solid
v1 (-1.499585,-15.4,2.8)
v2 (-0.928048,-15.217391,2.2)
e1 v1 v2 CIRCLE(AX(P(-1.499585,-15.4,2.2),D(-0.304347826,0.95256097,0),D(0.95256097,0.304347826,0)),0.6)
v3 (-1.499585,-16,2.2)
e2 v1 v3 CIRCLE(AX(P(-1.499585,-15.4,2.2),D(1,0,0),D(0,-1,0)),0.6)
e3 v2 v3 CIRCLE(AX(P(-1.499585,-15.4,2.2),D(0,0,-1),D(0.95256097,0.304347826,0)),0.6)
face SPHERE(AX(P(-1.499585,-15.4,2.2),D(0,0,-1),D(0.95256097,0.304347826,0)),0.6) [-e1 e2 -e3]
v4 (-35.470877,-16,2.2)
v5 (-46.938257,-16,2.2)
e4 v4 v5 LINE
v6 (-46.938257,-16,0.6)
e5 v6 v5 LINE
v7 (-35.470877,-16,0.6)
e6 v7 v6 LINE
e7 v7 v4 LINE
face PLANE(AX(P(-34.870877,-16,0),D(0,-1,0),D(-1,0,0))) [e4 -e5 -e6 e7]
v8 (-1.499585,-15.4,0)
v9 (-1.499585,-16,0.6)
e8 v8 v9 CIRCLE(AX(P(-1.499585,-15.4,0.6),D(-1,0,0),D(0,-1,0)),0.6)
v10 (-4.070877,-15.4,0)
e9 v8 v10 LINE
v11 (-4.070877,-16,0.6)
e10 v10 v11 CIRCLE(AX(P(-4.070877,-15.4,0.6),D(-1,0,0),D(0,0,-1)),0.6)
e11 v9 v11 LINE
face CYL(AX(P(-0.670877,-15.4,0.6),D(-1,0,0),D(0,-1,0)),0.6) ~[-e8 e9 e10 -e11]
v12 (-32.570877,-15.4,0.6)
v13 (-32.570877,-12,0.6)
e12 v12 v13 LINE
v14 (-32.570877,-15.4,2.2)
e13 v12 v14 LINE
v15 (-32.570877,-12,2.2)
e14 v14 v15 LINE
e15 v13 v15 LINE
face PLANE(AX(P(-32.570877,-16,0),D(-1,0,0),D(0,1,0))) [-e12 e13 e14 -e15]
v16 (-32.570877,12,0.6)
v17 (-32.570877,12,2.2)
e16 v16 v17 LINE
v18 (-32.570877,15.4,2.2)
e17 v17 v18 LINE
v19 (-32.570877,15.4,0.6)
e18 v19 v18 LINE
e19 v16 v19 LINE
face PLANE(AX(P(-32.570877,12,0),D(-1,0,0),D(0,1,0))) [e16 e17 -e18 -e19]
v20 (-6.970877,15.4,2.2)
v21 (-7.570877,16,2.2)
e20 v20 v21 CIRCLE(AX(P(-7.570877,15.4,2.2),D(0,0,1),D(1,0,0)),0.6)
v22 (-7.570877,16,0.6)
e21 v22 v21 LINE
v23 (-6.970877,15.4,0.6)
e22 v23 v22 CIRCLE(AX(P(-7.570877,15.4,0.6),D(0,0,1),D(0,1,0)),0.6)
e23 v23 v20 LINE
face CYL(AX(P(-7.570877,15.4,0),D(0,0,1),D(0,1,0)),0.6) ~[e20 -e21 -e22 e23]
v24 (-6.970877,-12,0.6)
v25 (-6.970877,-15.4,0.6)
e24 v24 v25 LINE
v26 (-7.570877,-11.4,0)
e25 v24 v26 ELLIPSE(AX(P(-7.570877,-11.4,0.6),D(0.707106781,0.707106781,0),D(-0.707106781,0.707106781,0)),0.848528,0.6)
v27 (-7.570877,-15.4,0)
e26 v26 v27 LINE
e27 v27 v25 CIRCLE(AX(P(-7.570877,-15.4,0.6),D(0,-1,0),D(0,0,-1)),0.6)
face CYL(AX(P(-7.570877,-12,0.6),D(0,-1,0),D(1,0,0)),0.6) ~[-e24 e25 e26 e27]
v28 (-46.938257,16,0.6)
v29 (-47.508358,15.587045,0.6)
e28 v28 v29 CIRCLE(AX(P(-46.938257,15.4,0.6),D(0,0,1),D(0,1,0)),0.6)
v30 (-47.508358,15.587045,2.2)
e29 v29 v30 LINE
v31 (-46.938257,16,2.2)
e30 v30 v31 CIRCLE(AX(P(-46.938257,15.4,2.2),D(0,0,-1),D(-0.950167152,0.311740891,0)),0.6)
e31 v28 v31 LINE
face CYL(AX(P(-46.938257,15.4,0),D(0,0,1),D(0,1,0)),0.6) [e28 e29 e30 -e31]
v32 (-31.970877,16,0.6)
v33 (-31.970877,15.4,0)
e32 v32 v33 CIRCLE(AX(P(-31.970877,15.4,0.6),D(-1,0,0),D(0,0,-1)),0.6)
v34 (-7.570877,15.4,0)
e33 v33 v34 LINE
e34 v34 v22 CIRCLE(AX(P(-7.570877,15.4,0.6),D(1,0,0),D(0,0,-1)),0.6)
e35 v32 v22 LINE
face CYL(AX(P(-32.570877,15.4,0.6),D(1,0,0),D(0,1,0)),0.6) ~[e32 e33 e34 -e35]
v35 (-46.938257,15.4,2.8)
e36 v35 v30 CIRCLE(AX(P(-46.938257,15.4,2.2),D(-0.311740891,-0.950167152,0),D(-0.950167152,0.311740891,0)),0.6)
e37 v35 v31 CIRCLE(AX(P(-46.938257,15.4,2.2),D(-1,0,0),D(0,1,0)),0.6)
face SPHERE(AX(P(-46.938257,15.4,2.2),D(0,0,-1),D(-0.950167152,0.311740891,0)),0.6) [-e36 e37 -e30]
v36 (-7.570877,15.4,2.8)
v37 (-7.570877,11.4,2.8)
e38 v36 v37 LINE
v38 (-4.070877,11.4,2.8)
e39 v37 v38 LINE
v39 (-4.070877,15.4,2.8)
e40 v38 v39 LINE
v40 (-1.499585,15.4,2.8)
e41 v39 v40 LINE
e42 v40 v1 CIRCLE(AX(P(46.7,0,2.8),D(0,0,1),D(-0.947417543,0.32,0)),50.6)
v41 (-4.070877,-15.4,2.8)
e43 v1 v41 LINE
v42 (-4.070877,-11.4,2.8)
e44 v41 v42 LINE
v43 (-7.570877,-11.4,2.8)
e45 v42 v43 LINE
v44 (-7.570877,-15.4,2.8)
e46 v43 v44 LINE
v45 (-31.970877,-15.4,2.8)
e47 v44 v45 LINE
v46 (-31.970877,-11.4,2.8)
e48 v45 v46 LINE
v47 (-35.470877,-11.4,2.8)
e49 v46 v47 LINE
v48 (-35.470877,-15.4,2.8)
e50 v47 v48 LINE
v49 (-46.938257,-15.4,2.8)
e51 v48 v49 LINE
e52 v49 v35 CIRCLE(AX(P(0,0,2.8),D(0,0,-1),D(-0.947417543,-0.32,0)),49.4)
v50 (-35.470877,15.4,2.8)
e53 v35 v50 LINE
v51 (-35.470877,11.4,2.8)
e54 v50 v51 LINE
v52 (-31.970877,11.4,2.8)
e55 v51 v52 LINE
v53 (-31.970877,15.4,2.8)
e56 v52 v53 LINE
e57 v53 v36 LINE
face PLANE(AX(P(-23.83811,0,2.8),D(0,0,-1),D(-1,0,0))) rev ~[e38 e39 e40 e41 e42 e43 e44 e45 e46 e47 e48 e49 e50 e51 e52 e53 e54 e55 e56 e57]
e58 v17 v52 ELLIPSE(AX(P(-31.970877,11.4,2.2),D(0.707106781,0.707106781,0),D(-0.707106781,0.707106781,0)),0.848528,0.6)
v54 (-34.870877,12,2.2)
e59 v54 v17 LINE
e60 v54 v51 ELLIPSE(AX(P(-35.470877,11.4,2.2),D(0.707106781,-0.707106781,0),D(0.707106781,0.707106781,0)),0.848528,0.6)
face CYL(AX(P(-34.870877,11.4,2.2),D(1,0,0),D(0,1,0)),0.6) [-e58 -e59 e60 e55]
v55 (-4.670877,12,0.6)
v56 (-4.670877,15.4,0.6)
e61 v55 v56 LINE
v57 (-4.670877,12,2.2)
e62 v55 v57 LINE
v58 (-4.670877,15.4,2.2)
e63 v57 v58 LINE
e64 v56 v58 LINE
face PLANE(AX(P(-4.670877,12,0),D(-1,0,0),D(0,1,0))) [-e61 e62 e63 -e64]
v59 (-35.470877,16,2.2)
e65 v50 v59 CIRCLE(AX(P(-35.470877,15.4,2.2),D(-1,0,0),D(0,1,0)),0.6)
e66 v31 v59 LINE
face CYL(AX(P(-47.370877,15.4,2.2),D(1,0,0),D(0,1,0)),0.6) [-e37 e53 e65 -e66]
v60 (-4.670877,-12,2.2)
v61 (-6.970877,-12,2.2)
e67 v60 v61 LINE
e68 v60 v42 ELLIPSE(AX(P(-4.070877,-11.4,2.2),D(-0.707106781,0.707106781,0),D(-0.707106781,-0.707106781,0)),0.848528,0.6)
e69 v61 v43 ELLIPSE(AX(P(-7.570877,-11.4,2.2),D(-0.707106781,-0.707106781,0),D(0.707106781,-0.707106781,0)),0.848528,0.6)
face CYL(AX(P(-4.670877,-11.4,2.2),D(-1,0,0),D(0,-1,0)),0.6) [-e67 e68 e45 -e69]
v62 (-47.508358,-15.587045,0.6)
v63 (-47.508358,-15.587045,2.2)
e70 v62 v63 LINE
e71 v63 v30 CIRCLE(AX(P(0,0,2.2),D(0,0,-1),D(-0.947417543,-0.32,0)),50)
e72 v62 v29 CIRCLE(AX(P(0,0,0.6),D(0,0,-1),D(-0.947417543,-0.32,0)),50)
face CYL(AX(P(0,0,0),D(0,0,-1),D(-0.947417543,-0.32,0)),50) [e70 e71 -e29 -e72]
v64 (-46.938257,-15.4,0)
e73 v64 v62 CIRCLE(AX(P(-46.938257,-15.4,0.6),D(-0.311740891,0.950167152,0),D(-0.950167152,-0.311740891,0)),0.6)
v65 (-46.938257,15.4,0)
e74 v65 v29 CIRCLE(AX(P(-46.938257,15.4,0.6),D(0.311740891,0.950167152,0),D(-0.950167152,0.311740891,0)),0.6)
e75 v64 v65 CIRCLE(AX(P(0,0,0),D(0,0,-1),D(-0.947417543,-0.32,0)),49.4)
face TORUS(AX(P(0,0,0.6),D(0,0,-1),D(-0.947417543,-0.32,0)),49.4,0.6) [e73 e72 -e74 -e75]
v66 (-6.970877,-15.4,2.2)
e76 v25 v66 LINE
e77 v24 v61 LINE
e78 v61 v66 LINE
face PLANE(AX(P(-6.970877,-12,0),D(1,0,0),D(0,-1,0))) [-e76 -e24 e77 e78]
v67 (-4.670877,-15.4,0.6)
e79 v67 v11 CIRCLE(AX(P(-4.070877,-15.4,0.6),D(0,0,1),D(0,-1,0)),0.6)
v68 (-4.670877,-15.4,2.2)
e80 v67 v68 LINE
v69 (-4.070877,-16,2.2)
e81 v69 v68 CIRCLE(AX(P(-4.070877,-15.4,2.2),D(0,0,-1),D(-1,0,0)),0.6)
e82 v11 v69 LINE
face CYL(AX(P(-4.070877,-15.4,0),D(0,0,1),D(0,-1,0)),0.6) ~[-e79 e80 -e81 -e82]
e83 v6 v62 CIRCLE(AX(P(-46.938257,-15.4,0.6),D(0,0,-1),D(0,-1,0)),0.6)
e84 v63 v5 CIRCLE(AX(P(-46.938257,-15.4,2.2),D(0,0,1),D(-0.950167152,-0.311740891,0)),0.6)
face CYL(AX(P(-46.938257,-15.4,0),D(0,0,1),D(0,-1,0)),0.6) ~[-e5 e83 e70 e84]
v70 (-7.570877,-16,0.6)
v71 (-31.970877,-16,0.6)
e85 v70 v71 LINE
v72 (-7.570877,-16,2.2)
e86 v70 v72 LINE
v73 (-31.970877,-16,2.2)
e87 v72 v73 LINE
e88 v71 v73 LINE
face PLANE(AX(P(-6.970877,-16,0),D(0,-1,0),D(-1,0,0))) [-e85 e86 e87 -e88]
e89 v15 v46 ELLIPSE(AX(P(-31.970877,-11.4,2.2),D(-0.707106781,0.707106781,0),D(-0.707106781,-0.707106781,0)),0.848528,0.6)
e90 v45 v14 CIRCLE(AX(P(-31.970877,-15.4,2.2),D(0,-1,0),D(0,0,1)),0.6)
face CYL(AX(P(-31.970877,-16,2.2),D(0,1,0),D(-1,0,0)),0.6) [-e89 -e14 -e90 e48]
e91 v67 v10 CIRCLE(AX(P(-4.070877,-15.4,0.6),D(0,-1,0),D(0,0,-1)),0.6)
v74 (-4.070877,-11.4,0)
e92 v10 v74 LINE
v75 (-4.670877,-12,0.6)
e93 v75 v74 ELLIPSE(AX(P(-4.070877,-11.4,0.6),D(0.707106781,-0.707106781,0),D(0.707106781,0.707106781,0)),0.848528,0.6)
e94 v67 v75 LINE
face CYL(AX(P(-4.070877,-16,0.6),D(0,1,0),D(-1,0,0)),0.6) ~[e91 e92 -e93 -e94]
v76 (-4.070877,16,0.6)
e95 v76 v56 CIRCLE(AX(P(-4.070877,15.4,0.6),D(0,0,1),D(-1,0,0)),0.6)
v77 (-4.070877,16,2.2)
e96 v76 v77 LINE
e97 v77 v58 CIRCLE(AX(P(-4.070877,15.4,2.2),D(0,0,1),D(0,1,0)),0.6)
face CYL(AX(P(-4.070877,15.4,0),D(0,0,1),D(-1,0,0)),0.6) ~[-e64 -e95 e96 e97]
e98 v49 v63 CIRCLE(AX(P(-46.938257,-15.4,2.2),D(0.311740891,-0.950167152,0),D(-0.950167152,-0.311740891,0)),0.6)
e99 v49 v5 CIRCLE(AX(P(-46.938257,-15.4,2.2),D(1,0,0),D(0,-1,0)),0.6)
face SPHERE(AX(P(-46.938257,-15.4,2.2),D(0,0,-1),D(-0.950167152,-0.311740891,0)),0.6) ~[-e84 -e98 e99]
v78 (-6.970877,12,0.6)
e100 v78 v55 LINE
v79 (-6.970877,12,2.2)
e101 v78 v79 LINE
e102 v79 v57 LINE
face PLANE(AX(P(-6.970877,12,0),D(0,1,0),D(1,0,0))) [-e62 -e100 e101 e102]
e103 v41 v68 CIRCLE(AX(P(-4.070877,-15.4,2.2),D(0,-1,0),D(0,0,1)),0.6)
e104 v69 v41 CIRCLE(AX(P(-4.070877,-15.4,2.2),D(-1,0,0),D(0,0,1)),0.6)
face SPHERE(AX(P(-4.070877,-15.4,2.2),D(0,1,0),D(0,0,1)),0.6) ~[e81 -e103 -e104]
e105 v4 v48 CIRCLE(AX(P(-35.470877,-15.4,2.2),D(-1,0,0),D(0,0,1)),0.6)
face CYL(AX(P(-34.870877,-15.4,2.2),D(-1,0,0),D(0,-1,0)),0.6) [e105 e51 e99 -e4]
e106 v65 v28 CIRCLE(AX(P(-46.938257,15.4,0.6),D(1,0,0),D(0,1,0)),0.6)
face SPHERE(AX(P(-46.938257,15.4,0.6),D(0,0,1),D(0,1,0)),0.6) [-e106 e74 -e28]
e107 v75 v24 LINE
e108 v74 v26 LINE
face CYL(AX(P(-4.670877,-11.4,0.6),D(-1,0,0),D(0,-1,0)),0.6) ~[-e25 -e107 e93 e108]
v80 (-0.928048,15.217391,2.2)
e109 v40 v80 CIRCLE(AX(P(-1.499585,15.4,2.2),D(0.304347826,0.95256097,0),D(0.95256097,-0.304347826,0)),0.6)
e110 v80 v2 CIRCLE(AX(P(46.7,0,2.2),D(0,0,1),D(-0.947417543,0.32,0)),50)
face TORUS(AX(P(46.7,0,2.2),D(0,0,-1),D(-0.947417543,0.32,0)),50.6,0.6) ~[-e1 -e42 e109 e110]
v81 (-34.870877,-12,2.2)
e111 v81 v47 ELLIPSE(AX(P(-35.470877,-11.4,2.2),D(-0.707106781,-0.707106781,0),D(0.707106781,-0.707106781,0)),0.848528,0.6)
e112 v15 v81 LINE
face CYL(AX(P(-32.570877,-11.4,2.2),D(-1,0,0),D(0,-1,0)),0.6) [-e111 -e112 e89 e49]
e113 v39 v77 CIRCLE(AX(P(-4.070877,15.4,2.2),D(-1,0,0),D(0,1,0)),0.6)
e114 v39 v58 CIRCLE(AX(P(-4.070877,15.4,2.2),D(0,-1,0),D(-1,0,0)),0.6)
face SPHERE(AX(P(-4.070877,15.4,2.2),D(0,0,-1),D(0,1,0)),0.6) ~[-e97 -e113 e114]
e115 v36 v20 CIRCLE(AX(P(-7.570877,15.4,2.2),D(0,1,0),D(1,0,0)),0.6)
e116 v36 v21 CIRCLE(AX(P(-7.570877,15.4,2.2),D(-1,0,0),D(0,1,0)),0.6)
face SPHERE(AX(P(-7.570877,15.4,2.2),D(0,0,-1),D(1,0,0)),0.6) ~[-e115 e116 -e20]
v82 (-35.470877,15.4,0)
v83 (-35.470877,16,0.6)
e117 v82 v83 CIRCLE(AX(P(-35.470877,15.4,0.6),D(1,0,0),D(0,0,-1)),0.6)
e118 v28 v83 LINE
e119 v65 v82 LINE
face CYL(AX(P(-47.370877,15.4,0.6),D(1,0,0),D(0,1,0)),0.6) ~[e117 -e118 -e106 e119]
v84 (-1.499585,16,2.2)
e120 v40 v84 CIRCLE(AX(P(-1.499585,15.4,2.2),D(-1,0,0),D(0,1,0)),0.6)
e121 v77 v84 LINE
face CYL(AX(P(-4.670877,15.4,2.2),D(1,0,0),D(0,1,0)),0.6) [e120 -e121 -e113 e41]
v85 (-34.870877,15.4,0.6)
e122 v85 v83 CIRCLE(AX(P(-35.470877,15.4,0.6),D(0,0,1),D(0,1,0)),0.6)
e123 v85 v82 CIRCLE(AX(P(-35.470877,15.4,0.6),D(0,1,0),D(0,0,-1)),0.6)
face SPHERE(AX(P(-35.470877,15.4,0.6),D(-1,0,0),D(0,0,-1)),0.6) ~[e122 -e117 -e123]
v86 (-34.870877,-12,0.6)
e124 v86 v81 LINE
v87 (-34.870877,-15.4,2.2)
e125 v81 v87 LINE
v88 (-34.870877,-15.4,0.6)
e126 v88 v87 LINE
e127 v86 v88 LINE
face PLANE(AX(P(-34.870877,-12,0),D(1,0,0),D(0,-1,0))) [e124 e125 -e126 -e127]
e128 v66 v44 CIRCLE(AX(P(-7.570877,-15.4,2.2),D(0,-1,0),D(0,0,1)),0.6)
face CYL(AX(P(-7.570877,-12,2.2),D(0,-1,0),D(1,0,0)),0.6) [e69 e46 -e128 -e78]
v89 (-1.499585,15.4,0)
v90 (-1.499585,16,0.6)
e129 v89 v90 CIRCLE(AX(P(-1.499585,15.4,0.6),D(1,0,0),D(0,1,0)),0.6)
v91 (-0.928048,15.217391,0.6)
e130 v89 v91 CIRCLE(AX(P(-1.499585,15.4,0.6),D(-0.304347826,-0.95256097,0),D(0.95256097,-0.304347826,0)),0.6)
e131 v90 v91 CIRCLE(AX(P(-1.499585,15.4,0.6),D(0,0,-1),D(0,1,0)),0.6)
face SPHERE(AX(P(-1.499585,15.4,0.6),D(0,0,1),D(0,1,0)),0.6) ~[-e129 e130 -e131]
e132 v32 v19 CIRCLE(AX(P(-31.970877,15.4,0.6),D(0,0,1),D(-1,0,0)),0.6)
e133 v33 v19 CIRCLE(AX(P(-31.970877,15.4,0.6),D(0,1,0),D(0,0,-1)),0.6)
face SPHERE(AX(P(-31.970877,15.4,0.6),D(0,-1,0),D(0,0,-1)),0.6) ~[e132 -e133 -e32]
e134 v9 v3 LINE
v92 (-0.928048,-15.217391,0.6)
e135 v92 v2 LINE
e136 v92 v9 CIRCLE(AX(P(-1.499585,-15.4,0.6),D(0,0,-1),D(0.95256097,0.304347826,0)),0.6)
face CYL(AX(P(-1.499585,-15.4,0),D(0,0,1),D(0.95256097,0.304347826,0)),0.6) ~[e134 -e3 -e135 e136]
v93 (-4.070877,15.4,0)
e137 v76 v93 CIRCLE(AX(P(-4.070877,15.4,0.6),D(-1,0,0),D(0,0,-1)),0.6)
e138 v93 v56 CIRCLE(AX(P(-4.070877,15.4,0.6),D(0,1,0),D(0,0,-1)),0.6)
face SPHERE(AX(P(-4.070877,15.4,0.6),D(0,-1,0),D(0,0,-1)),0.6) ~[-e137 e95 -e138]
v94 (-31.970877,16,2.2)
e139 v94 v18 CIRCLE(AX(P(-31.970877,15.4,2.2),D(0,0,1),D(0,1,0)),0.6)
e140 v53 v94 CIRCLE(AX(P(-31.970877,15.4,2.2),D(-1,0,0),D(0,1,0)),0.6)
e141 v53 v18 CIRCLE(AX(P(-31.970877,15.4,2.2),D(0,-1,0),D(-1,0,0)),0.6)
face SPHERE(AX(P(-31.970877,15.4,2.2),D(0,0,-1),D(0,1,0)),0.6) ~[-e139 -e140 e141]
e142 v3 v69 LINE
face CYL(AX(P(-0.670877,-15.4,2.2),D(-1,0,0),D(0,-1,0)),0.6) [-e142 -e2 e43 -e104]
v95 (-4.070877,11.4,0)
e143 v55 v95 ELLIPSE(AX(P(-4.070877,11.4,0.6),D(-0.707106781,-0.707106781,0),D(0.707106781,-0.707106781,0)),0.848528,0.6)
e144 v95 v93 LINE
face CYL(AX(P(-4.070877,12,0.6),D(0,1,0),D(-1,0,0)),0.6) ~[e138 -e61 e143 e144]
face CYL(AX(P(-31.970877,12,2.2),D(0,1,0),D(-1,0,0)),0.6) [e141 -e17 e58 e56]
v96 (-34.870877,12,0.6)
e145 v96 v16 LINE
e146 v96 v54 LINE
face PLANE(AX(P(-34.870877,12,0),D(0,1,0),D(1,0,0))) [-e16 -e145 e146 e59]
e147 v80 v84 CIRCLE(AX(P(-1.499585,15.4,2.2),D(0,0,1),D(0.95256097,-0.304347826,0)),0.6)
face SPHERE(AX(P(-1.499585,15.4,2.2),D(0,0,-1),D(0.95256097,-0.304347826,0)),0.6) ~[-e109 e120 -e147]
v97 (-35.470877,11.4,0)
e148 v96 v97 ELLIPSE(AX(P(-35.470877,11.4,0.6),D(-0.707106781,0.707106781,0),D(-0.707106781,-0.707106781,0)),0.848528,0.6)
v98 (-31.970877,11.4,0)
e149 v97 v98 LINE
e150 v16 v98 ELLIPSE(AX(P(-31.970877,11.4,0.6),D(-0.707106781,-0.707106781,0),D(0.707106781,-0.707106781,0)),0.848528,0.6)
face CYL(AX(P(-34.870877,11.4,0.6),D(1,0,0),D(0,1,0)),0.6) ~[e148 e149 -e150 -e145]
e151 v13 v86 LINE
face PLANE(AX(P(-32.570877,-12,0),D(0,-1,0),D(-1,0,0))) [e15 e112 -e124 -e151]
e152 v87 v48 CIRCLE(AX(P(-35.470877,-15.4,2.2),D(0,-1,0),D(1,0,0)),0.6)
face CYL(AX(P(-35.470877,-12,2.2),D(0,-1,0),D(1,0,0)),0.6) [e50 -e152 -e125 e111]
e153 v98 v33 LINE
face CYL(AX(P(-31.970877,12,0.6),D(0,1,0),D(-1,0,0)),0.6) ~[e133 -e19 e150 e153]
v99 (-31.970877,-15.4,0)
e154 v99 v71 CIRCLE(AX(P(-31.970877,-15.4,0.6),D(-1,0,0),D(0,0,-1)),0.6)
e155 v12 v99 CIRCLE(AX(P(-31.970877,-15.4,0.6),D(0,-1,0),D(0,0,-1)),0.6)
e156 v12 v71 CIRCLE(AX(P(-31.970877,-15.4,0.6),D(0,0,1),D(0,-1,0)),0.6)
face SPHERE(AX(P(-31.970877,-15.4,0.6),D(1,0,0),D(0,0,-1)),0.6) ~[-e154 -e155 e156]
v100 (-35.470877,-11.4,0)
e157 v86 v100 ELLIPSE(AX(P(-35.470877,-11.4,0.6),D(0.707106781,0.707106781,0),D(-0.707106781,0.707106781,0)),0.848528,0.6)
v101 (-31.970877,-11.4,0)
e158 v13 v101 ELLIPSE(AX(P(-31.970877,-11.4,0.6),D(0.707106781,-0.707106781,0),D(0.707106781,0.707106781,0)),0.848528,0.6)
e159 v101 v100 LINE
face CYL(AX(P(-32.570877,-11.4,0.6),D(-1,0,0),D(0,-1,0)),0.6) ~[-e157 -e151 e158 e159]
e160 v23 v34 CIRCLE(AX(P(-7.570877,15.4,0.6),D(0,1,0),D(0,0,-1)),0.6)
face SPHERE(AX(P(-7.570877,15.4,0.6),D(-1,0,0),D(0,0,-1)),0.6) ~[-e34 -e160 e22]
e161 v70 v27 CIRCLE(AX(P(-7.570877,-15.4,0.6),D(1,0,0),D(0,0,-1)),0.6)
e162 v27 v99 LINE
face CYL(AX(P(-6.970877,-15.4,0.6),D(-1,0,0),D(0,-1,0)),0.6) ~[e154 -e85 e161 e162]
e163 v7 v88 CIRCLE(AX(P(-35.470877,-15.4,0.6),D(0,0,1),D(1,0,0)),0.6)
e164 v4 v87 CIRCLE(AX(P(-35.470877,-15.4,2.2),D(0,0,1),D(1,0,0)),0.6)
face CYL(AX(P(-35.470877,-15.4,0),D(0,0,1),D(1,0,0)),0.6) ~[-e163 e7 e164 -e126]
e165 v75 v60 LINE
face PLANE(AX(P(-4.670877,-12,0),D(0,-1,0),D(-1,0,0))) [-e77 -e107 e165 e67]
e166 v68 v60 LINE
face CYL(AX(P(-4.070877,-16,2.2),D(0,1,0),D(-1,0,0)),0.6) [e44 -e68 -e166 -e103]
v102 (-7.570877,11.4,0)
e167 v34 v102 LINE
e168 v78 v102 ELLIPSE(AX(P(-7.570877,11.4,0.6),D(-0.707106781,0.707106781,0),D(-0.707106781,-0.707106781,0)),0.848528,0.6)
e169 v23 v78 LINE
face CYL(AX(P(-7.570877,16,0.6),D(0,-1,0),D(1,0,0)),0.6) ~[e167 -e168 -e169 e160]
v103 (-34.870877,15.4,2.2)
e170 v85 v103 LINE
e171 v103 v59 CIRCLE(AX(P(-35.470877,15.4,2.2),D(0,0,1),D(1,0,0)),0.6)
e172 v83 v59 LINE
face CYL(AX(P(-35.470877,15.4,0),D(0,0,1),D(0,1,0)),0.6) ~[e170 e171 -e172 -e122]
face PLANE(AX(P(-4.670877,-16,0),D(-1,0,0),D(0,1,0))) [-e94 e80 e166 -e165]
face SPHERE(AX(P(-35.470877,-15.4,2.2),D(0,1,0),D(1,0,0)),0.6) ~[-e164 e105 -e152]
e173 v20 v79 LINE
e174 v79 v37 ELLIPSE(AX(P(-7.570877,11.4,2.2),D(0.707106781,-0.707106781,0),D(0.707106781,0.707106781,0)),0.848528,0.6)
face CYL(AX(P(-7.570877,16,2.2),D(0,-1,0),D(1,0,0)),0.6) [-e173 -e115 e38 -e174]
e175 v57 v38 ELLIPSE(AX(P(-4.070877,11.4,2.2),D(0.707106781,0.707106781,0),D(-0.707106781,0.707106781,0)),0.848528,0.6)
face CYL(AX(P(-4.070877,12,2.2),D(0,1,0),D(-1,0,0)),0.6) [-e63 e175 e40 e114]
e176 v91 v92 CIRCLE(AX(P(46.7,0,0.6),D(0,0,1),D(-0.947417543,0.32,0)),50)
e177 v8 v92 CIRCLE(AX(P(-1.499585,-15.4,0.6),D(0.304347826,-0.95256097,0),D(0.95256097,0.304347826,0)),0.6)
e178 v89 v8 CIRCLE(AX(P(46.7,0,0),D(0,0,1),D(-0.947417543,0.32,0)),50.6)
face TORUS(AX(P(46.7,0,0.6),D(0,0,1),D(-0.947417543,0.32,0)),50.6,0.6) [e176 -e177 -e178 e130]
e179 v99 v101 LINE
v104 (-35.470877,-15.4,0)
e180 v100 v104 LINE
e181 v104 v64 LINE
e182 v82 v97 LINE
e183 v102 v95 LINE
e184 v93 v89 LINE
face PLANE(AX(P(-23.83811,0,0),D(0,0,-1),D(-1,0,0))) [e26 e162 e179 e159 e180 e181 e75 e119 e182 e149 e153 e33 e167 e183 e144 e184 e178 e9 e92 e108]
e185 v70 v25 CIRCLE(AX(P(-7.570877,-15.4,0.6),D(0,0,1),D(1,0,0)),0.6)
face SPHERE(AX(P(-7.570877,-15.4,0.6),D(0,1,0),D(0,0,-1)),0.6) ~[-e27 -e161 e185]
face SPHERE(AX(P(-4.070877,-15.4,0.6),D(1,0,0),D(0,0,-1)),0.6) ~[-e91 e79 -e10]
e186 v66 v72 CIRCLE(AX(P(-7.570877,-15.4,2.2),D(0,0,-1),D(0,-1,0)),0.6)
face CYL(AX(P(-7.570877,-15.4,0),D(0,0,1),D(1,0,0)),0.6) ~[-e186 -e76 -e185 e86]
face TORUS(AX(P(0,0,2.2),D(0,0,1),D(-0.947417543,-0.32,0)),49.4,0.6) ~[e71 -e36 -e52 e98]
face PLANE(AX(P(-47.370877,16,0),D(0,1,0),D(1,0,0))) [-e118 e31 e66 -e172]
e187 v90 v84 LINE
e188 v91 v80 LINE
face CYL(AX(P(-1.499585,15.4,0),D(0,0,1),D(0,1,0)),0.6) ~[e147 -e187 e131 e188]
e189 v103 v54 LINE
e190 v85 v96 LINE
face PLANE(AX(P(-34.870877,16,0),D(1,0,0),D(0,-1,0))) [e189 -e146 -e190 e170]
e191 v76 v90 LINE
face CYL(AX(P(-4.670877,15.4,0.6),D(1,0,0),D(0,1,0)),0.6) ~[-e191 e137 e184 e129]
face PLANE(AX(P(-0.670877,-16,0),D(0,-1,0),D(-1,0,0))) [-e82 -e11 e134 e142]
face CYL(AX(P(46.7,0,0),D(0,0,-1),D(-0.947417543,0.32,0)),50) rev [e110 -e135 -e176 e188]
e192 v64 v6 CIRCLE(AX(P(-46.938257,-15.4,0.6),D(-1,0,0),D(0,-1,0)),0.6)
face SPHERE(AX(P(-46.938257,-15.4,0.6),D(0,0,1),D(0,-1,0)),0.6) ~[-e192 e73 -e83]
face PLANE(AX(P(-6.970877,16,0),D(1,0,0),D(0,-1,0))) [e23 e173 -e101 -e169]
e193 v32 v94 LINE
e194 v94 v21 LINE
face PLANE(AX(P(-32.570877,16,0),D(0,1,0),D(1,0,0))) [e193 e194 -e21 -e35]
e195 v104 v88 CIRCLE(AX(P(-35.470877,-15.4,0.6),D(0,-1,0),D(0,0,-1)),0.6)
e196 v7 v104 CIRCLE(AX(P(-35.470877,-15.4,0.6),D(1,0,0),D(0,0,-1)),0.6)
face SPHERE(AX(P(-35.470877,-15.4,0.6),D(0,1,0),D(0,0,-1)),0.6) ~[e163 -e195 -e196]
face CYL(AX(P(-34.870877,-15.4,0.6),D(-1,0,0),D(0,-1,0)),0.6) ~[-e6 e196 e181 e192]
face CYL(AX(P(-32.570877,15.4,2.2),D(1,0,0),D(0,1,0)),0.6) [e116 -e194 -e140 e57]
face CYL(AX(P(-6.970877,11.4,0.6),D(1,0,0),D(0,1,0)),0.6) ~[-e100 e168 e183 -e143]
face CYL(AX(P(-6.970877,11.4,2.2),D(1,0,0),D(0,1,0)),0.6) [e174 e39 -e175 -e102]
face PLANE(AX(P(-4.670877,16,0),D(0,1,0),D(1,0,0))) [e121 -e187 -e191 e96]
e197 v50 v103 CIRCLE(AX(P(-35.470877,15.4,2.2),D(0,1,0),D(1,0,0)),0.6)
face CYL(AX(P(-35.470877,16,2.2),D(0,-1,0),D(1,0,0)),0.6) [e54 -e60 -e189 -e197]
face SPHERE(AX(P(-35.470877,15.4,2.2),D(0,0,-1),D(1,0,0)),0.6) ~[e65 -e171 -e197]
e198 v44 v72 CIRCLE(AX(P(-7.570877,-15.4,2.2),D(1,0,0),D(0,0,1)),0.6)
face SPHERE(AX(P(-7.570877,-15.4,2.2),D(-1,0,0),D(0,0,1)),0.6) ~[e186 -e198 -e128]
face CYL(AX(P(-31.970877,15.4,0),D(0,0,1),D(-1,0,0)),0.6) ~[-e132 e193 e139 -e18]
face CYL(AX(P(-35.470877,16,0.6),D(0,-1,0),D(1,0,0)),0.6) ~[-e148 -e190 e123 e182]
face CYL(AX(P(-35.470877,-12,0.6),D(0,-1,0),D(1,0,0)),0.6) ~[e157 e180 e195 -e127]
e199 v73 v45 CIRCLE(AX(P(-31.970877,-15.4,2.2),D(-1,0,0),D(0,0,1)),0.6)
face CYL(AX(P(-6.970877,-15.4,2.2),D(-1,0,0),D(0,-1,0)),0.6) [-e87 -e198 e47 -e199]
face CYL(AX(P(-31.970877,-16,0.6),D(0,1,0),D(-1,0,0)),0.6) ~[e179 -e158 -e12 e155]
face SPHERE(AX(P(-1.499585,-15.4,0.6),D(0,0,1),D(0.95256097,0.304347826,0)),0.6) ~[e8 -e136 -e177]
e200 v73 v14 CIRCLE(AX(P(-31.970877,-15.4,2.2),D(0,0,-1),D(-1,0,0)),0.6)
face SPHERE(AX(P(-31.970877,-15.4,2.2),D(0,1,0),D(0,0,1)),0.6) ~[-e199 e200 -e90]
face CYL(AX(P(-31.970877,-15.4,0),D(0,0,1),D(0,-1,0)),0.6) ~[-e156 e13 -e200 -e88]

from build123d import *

# Parameters (mm, degrees)
BOSS_EXTRU_1_DEPTH = 2.8
CONG_1_R           = 0.6


with BuildPart() as part:
    # Esquisse1 → Boss.-Extru.1 (new body)
    with BuildSketch(Plane.XY):
        with BuildLine():
            Line((-47.370877129, 16), (-34.870877129, 16))
            Line((-34.870877129, 16), (-34.870877129, 12))
            Line((-34.870877129, 12), (-32.570877129, 12))
            Line((-32.570877129, 12), (-32.570877129, 16))
            Line((-32.570877129, 16), (-6.970877129, 16))
            Line((-6.970877129, 16), (-6.970877129, 12))
            Line((-6.970877129, 12), (-4.670877129, 12))
            Line((-4.670877129, 12), (-4.670877129, 16))
            Line((-4.670877129, 16), (-0.670877129, 16))
            ThreePointArc((-0.670877129, 16), (-3.3, 0), (-0.670877129, -16))
            Line((-0.670877129, -16), (-4.670877129, -16))
            Line((-4.670877129, -16), (-4.670877129, -12))
            Line((-4.670877129, -12), (-6.970877129, -12))
            Line((-6.970877129, -12), (-6.970877129, -16))
            Line((-6.970877129, -16), (-32.570877129, -16))
            Line((-32.570877129, -16), (-32.570877129, -12))
            Line((-32.570877129, -12), (-34.870877129, -12))
            Line((-34.870877129, -12), (-34.870877129, -16))
            Line((-34.870877129, -16), (-47.370877129, -16))
            ThreePointArc((-47.370877129, -16), (-50, 0), (-47.370877129, 16))
        make_face()
    extrude(amount=BOSS_EXTRU_1_DEPTH)

    # Congé1
    cong_1_edges = [part.edges().sort_by_distance(p)[0] for p in [
        (-34.870877129, -14, 2.8),
        (-33.720877129, -12, 2.8),
        (-32.570877129, -14, 2.8),
        (-41.120877129, 16, 0),
        (-34.870877129, 14, 0),
        (-33.720877129, 12, 0),
        (-32.570877129, 14, 0),
        (-19.770877129, 16, 0),
        (-19.770877129, -16, 2.8),
        (-6.970877129, 14, 0),
        (-5.820877129, 12, 0),
        (-4.670877129, 14, 0),
        (-2.670877129, 16, 0),
        (-3.3, 0, 0),
        (-2.670877129, -16, 0),
        (-4.670877129, -14, 0),
        (-6.970877129, -14, 2.8),
        (-5.820877129, -12, 0),
        (-6.970877129, -14, 0),
        (-19.770877129, -16, 0),
        (-32.570877129, -14, 0),
        (-33.720877129, -12, 0),
        (-34.870877129, -14, 0),
        (-41.120877129, -16, 0),
        (-50, 0, 0),
        (-5.820877129, -12, 2.8),
        (-4.670877129, -14, 2.8),
        (-2.670877129, -16, 2.8),
        (-47.370877129, 16, 1.4),
        (-34.870877129, 16, 1.4),
        (-32.570877129, 16, 1.4),
        (-6.970877129, 16, 1.4),
        (-4.670877129, 16, 1.4),
        (-0.670877129, 16, 1.4),
        (-0.670877129, -16, 1.4),
        (-4.670877129, -16, 1.4),
        (-6.970877129, -16, 1.4),
        (-32.570877129, -16, 1.4),
        (-34.870877129, -16, 1.4),
        (-47.370877129, -16, 1.4),
        (-3.3, 0, 2.8),
        (-2.670877129, 16, 2.8),
        (-50, 0, 2.8),
        (-4.670877129, 14, 2.8),
        (-5.820877129, 12, 2.8),
        (-6.970877129, 14, 2.8),
        (-19.770877129, 16, 2.8),
        (-32.570877129, 14, 2.8),
        (-33.720877129, 12, 2.8),
        (-34.870877129, 14, 2.8),
        (-41.120877129, 16, 2.8),
        (-41.120877129, -16, 2.8),
    ]]
    fillet(cong_1_edges, radius=CONG_1_R)


solid = part.part
